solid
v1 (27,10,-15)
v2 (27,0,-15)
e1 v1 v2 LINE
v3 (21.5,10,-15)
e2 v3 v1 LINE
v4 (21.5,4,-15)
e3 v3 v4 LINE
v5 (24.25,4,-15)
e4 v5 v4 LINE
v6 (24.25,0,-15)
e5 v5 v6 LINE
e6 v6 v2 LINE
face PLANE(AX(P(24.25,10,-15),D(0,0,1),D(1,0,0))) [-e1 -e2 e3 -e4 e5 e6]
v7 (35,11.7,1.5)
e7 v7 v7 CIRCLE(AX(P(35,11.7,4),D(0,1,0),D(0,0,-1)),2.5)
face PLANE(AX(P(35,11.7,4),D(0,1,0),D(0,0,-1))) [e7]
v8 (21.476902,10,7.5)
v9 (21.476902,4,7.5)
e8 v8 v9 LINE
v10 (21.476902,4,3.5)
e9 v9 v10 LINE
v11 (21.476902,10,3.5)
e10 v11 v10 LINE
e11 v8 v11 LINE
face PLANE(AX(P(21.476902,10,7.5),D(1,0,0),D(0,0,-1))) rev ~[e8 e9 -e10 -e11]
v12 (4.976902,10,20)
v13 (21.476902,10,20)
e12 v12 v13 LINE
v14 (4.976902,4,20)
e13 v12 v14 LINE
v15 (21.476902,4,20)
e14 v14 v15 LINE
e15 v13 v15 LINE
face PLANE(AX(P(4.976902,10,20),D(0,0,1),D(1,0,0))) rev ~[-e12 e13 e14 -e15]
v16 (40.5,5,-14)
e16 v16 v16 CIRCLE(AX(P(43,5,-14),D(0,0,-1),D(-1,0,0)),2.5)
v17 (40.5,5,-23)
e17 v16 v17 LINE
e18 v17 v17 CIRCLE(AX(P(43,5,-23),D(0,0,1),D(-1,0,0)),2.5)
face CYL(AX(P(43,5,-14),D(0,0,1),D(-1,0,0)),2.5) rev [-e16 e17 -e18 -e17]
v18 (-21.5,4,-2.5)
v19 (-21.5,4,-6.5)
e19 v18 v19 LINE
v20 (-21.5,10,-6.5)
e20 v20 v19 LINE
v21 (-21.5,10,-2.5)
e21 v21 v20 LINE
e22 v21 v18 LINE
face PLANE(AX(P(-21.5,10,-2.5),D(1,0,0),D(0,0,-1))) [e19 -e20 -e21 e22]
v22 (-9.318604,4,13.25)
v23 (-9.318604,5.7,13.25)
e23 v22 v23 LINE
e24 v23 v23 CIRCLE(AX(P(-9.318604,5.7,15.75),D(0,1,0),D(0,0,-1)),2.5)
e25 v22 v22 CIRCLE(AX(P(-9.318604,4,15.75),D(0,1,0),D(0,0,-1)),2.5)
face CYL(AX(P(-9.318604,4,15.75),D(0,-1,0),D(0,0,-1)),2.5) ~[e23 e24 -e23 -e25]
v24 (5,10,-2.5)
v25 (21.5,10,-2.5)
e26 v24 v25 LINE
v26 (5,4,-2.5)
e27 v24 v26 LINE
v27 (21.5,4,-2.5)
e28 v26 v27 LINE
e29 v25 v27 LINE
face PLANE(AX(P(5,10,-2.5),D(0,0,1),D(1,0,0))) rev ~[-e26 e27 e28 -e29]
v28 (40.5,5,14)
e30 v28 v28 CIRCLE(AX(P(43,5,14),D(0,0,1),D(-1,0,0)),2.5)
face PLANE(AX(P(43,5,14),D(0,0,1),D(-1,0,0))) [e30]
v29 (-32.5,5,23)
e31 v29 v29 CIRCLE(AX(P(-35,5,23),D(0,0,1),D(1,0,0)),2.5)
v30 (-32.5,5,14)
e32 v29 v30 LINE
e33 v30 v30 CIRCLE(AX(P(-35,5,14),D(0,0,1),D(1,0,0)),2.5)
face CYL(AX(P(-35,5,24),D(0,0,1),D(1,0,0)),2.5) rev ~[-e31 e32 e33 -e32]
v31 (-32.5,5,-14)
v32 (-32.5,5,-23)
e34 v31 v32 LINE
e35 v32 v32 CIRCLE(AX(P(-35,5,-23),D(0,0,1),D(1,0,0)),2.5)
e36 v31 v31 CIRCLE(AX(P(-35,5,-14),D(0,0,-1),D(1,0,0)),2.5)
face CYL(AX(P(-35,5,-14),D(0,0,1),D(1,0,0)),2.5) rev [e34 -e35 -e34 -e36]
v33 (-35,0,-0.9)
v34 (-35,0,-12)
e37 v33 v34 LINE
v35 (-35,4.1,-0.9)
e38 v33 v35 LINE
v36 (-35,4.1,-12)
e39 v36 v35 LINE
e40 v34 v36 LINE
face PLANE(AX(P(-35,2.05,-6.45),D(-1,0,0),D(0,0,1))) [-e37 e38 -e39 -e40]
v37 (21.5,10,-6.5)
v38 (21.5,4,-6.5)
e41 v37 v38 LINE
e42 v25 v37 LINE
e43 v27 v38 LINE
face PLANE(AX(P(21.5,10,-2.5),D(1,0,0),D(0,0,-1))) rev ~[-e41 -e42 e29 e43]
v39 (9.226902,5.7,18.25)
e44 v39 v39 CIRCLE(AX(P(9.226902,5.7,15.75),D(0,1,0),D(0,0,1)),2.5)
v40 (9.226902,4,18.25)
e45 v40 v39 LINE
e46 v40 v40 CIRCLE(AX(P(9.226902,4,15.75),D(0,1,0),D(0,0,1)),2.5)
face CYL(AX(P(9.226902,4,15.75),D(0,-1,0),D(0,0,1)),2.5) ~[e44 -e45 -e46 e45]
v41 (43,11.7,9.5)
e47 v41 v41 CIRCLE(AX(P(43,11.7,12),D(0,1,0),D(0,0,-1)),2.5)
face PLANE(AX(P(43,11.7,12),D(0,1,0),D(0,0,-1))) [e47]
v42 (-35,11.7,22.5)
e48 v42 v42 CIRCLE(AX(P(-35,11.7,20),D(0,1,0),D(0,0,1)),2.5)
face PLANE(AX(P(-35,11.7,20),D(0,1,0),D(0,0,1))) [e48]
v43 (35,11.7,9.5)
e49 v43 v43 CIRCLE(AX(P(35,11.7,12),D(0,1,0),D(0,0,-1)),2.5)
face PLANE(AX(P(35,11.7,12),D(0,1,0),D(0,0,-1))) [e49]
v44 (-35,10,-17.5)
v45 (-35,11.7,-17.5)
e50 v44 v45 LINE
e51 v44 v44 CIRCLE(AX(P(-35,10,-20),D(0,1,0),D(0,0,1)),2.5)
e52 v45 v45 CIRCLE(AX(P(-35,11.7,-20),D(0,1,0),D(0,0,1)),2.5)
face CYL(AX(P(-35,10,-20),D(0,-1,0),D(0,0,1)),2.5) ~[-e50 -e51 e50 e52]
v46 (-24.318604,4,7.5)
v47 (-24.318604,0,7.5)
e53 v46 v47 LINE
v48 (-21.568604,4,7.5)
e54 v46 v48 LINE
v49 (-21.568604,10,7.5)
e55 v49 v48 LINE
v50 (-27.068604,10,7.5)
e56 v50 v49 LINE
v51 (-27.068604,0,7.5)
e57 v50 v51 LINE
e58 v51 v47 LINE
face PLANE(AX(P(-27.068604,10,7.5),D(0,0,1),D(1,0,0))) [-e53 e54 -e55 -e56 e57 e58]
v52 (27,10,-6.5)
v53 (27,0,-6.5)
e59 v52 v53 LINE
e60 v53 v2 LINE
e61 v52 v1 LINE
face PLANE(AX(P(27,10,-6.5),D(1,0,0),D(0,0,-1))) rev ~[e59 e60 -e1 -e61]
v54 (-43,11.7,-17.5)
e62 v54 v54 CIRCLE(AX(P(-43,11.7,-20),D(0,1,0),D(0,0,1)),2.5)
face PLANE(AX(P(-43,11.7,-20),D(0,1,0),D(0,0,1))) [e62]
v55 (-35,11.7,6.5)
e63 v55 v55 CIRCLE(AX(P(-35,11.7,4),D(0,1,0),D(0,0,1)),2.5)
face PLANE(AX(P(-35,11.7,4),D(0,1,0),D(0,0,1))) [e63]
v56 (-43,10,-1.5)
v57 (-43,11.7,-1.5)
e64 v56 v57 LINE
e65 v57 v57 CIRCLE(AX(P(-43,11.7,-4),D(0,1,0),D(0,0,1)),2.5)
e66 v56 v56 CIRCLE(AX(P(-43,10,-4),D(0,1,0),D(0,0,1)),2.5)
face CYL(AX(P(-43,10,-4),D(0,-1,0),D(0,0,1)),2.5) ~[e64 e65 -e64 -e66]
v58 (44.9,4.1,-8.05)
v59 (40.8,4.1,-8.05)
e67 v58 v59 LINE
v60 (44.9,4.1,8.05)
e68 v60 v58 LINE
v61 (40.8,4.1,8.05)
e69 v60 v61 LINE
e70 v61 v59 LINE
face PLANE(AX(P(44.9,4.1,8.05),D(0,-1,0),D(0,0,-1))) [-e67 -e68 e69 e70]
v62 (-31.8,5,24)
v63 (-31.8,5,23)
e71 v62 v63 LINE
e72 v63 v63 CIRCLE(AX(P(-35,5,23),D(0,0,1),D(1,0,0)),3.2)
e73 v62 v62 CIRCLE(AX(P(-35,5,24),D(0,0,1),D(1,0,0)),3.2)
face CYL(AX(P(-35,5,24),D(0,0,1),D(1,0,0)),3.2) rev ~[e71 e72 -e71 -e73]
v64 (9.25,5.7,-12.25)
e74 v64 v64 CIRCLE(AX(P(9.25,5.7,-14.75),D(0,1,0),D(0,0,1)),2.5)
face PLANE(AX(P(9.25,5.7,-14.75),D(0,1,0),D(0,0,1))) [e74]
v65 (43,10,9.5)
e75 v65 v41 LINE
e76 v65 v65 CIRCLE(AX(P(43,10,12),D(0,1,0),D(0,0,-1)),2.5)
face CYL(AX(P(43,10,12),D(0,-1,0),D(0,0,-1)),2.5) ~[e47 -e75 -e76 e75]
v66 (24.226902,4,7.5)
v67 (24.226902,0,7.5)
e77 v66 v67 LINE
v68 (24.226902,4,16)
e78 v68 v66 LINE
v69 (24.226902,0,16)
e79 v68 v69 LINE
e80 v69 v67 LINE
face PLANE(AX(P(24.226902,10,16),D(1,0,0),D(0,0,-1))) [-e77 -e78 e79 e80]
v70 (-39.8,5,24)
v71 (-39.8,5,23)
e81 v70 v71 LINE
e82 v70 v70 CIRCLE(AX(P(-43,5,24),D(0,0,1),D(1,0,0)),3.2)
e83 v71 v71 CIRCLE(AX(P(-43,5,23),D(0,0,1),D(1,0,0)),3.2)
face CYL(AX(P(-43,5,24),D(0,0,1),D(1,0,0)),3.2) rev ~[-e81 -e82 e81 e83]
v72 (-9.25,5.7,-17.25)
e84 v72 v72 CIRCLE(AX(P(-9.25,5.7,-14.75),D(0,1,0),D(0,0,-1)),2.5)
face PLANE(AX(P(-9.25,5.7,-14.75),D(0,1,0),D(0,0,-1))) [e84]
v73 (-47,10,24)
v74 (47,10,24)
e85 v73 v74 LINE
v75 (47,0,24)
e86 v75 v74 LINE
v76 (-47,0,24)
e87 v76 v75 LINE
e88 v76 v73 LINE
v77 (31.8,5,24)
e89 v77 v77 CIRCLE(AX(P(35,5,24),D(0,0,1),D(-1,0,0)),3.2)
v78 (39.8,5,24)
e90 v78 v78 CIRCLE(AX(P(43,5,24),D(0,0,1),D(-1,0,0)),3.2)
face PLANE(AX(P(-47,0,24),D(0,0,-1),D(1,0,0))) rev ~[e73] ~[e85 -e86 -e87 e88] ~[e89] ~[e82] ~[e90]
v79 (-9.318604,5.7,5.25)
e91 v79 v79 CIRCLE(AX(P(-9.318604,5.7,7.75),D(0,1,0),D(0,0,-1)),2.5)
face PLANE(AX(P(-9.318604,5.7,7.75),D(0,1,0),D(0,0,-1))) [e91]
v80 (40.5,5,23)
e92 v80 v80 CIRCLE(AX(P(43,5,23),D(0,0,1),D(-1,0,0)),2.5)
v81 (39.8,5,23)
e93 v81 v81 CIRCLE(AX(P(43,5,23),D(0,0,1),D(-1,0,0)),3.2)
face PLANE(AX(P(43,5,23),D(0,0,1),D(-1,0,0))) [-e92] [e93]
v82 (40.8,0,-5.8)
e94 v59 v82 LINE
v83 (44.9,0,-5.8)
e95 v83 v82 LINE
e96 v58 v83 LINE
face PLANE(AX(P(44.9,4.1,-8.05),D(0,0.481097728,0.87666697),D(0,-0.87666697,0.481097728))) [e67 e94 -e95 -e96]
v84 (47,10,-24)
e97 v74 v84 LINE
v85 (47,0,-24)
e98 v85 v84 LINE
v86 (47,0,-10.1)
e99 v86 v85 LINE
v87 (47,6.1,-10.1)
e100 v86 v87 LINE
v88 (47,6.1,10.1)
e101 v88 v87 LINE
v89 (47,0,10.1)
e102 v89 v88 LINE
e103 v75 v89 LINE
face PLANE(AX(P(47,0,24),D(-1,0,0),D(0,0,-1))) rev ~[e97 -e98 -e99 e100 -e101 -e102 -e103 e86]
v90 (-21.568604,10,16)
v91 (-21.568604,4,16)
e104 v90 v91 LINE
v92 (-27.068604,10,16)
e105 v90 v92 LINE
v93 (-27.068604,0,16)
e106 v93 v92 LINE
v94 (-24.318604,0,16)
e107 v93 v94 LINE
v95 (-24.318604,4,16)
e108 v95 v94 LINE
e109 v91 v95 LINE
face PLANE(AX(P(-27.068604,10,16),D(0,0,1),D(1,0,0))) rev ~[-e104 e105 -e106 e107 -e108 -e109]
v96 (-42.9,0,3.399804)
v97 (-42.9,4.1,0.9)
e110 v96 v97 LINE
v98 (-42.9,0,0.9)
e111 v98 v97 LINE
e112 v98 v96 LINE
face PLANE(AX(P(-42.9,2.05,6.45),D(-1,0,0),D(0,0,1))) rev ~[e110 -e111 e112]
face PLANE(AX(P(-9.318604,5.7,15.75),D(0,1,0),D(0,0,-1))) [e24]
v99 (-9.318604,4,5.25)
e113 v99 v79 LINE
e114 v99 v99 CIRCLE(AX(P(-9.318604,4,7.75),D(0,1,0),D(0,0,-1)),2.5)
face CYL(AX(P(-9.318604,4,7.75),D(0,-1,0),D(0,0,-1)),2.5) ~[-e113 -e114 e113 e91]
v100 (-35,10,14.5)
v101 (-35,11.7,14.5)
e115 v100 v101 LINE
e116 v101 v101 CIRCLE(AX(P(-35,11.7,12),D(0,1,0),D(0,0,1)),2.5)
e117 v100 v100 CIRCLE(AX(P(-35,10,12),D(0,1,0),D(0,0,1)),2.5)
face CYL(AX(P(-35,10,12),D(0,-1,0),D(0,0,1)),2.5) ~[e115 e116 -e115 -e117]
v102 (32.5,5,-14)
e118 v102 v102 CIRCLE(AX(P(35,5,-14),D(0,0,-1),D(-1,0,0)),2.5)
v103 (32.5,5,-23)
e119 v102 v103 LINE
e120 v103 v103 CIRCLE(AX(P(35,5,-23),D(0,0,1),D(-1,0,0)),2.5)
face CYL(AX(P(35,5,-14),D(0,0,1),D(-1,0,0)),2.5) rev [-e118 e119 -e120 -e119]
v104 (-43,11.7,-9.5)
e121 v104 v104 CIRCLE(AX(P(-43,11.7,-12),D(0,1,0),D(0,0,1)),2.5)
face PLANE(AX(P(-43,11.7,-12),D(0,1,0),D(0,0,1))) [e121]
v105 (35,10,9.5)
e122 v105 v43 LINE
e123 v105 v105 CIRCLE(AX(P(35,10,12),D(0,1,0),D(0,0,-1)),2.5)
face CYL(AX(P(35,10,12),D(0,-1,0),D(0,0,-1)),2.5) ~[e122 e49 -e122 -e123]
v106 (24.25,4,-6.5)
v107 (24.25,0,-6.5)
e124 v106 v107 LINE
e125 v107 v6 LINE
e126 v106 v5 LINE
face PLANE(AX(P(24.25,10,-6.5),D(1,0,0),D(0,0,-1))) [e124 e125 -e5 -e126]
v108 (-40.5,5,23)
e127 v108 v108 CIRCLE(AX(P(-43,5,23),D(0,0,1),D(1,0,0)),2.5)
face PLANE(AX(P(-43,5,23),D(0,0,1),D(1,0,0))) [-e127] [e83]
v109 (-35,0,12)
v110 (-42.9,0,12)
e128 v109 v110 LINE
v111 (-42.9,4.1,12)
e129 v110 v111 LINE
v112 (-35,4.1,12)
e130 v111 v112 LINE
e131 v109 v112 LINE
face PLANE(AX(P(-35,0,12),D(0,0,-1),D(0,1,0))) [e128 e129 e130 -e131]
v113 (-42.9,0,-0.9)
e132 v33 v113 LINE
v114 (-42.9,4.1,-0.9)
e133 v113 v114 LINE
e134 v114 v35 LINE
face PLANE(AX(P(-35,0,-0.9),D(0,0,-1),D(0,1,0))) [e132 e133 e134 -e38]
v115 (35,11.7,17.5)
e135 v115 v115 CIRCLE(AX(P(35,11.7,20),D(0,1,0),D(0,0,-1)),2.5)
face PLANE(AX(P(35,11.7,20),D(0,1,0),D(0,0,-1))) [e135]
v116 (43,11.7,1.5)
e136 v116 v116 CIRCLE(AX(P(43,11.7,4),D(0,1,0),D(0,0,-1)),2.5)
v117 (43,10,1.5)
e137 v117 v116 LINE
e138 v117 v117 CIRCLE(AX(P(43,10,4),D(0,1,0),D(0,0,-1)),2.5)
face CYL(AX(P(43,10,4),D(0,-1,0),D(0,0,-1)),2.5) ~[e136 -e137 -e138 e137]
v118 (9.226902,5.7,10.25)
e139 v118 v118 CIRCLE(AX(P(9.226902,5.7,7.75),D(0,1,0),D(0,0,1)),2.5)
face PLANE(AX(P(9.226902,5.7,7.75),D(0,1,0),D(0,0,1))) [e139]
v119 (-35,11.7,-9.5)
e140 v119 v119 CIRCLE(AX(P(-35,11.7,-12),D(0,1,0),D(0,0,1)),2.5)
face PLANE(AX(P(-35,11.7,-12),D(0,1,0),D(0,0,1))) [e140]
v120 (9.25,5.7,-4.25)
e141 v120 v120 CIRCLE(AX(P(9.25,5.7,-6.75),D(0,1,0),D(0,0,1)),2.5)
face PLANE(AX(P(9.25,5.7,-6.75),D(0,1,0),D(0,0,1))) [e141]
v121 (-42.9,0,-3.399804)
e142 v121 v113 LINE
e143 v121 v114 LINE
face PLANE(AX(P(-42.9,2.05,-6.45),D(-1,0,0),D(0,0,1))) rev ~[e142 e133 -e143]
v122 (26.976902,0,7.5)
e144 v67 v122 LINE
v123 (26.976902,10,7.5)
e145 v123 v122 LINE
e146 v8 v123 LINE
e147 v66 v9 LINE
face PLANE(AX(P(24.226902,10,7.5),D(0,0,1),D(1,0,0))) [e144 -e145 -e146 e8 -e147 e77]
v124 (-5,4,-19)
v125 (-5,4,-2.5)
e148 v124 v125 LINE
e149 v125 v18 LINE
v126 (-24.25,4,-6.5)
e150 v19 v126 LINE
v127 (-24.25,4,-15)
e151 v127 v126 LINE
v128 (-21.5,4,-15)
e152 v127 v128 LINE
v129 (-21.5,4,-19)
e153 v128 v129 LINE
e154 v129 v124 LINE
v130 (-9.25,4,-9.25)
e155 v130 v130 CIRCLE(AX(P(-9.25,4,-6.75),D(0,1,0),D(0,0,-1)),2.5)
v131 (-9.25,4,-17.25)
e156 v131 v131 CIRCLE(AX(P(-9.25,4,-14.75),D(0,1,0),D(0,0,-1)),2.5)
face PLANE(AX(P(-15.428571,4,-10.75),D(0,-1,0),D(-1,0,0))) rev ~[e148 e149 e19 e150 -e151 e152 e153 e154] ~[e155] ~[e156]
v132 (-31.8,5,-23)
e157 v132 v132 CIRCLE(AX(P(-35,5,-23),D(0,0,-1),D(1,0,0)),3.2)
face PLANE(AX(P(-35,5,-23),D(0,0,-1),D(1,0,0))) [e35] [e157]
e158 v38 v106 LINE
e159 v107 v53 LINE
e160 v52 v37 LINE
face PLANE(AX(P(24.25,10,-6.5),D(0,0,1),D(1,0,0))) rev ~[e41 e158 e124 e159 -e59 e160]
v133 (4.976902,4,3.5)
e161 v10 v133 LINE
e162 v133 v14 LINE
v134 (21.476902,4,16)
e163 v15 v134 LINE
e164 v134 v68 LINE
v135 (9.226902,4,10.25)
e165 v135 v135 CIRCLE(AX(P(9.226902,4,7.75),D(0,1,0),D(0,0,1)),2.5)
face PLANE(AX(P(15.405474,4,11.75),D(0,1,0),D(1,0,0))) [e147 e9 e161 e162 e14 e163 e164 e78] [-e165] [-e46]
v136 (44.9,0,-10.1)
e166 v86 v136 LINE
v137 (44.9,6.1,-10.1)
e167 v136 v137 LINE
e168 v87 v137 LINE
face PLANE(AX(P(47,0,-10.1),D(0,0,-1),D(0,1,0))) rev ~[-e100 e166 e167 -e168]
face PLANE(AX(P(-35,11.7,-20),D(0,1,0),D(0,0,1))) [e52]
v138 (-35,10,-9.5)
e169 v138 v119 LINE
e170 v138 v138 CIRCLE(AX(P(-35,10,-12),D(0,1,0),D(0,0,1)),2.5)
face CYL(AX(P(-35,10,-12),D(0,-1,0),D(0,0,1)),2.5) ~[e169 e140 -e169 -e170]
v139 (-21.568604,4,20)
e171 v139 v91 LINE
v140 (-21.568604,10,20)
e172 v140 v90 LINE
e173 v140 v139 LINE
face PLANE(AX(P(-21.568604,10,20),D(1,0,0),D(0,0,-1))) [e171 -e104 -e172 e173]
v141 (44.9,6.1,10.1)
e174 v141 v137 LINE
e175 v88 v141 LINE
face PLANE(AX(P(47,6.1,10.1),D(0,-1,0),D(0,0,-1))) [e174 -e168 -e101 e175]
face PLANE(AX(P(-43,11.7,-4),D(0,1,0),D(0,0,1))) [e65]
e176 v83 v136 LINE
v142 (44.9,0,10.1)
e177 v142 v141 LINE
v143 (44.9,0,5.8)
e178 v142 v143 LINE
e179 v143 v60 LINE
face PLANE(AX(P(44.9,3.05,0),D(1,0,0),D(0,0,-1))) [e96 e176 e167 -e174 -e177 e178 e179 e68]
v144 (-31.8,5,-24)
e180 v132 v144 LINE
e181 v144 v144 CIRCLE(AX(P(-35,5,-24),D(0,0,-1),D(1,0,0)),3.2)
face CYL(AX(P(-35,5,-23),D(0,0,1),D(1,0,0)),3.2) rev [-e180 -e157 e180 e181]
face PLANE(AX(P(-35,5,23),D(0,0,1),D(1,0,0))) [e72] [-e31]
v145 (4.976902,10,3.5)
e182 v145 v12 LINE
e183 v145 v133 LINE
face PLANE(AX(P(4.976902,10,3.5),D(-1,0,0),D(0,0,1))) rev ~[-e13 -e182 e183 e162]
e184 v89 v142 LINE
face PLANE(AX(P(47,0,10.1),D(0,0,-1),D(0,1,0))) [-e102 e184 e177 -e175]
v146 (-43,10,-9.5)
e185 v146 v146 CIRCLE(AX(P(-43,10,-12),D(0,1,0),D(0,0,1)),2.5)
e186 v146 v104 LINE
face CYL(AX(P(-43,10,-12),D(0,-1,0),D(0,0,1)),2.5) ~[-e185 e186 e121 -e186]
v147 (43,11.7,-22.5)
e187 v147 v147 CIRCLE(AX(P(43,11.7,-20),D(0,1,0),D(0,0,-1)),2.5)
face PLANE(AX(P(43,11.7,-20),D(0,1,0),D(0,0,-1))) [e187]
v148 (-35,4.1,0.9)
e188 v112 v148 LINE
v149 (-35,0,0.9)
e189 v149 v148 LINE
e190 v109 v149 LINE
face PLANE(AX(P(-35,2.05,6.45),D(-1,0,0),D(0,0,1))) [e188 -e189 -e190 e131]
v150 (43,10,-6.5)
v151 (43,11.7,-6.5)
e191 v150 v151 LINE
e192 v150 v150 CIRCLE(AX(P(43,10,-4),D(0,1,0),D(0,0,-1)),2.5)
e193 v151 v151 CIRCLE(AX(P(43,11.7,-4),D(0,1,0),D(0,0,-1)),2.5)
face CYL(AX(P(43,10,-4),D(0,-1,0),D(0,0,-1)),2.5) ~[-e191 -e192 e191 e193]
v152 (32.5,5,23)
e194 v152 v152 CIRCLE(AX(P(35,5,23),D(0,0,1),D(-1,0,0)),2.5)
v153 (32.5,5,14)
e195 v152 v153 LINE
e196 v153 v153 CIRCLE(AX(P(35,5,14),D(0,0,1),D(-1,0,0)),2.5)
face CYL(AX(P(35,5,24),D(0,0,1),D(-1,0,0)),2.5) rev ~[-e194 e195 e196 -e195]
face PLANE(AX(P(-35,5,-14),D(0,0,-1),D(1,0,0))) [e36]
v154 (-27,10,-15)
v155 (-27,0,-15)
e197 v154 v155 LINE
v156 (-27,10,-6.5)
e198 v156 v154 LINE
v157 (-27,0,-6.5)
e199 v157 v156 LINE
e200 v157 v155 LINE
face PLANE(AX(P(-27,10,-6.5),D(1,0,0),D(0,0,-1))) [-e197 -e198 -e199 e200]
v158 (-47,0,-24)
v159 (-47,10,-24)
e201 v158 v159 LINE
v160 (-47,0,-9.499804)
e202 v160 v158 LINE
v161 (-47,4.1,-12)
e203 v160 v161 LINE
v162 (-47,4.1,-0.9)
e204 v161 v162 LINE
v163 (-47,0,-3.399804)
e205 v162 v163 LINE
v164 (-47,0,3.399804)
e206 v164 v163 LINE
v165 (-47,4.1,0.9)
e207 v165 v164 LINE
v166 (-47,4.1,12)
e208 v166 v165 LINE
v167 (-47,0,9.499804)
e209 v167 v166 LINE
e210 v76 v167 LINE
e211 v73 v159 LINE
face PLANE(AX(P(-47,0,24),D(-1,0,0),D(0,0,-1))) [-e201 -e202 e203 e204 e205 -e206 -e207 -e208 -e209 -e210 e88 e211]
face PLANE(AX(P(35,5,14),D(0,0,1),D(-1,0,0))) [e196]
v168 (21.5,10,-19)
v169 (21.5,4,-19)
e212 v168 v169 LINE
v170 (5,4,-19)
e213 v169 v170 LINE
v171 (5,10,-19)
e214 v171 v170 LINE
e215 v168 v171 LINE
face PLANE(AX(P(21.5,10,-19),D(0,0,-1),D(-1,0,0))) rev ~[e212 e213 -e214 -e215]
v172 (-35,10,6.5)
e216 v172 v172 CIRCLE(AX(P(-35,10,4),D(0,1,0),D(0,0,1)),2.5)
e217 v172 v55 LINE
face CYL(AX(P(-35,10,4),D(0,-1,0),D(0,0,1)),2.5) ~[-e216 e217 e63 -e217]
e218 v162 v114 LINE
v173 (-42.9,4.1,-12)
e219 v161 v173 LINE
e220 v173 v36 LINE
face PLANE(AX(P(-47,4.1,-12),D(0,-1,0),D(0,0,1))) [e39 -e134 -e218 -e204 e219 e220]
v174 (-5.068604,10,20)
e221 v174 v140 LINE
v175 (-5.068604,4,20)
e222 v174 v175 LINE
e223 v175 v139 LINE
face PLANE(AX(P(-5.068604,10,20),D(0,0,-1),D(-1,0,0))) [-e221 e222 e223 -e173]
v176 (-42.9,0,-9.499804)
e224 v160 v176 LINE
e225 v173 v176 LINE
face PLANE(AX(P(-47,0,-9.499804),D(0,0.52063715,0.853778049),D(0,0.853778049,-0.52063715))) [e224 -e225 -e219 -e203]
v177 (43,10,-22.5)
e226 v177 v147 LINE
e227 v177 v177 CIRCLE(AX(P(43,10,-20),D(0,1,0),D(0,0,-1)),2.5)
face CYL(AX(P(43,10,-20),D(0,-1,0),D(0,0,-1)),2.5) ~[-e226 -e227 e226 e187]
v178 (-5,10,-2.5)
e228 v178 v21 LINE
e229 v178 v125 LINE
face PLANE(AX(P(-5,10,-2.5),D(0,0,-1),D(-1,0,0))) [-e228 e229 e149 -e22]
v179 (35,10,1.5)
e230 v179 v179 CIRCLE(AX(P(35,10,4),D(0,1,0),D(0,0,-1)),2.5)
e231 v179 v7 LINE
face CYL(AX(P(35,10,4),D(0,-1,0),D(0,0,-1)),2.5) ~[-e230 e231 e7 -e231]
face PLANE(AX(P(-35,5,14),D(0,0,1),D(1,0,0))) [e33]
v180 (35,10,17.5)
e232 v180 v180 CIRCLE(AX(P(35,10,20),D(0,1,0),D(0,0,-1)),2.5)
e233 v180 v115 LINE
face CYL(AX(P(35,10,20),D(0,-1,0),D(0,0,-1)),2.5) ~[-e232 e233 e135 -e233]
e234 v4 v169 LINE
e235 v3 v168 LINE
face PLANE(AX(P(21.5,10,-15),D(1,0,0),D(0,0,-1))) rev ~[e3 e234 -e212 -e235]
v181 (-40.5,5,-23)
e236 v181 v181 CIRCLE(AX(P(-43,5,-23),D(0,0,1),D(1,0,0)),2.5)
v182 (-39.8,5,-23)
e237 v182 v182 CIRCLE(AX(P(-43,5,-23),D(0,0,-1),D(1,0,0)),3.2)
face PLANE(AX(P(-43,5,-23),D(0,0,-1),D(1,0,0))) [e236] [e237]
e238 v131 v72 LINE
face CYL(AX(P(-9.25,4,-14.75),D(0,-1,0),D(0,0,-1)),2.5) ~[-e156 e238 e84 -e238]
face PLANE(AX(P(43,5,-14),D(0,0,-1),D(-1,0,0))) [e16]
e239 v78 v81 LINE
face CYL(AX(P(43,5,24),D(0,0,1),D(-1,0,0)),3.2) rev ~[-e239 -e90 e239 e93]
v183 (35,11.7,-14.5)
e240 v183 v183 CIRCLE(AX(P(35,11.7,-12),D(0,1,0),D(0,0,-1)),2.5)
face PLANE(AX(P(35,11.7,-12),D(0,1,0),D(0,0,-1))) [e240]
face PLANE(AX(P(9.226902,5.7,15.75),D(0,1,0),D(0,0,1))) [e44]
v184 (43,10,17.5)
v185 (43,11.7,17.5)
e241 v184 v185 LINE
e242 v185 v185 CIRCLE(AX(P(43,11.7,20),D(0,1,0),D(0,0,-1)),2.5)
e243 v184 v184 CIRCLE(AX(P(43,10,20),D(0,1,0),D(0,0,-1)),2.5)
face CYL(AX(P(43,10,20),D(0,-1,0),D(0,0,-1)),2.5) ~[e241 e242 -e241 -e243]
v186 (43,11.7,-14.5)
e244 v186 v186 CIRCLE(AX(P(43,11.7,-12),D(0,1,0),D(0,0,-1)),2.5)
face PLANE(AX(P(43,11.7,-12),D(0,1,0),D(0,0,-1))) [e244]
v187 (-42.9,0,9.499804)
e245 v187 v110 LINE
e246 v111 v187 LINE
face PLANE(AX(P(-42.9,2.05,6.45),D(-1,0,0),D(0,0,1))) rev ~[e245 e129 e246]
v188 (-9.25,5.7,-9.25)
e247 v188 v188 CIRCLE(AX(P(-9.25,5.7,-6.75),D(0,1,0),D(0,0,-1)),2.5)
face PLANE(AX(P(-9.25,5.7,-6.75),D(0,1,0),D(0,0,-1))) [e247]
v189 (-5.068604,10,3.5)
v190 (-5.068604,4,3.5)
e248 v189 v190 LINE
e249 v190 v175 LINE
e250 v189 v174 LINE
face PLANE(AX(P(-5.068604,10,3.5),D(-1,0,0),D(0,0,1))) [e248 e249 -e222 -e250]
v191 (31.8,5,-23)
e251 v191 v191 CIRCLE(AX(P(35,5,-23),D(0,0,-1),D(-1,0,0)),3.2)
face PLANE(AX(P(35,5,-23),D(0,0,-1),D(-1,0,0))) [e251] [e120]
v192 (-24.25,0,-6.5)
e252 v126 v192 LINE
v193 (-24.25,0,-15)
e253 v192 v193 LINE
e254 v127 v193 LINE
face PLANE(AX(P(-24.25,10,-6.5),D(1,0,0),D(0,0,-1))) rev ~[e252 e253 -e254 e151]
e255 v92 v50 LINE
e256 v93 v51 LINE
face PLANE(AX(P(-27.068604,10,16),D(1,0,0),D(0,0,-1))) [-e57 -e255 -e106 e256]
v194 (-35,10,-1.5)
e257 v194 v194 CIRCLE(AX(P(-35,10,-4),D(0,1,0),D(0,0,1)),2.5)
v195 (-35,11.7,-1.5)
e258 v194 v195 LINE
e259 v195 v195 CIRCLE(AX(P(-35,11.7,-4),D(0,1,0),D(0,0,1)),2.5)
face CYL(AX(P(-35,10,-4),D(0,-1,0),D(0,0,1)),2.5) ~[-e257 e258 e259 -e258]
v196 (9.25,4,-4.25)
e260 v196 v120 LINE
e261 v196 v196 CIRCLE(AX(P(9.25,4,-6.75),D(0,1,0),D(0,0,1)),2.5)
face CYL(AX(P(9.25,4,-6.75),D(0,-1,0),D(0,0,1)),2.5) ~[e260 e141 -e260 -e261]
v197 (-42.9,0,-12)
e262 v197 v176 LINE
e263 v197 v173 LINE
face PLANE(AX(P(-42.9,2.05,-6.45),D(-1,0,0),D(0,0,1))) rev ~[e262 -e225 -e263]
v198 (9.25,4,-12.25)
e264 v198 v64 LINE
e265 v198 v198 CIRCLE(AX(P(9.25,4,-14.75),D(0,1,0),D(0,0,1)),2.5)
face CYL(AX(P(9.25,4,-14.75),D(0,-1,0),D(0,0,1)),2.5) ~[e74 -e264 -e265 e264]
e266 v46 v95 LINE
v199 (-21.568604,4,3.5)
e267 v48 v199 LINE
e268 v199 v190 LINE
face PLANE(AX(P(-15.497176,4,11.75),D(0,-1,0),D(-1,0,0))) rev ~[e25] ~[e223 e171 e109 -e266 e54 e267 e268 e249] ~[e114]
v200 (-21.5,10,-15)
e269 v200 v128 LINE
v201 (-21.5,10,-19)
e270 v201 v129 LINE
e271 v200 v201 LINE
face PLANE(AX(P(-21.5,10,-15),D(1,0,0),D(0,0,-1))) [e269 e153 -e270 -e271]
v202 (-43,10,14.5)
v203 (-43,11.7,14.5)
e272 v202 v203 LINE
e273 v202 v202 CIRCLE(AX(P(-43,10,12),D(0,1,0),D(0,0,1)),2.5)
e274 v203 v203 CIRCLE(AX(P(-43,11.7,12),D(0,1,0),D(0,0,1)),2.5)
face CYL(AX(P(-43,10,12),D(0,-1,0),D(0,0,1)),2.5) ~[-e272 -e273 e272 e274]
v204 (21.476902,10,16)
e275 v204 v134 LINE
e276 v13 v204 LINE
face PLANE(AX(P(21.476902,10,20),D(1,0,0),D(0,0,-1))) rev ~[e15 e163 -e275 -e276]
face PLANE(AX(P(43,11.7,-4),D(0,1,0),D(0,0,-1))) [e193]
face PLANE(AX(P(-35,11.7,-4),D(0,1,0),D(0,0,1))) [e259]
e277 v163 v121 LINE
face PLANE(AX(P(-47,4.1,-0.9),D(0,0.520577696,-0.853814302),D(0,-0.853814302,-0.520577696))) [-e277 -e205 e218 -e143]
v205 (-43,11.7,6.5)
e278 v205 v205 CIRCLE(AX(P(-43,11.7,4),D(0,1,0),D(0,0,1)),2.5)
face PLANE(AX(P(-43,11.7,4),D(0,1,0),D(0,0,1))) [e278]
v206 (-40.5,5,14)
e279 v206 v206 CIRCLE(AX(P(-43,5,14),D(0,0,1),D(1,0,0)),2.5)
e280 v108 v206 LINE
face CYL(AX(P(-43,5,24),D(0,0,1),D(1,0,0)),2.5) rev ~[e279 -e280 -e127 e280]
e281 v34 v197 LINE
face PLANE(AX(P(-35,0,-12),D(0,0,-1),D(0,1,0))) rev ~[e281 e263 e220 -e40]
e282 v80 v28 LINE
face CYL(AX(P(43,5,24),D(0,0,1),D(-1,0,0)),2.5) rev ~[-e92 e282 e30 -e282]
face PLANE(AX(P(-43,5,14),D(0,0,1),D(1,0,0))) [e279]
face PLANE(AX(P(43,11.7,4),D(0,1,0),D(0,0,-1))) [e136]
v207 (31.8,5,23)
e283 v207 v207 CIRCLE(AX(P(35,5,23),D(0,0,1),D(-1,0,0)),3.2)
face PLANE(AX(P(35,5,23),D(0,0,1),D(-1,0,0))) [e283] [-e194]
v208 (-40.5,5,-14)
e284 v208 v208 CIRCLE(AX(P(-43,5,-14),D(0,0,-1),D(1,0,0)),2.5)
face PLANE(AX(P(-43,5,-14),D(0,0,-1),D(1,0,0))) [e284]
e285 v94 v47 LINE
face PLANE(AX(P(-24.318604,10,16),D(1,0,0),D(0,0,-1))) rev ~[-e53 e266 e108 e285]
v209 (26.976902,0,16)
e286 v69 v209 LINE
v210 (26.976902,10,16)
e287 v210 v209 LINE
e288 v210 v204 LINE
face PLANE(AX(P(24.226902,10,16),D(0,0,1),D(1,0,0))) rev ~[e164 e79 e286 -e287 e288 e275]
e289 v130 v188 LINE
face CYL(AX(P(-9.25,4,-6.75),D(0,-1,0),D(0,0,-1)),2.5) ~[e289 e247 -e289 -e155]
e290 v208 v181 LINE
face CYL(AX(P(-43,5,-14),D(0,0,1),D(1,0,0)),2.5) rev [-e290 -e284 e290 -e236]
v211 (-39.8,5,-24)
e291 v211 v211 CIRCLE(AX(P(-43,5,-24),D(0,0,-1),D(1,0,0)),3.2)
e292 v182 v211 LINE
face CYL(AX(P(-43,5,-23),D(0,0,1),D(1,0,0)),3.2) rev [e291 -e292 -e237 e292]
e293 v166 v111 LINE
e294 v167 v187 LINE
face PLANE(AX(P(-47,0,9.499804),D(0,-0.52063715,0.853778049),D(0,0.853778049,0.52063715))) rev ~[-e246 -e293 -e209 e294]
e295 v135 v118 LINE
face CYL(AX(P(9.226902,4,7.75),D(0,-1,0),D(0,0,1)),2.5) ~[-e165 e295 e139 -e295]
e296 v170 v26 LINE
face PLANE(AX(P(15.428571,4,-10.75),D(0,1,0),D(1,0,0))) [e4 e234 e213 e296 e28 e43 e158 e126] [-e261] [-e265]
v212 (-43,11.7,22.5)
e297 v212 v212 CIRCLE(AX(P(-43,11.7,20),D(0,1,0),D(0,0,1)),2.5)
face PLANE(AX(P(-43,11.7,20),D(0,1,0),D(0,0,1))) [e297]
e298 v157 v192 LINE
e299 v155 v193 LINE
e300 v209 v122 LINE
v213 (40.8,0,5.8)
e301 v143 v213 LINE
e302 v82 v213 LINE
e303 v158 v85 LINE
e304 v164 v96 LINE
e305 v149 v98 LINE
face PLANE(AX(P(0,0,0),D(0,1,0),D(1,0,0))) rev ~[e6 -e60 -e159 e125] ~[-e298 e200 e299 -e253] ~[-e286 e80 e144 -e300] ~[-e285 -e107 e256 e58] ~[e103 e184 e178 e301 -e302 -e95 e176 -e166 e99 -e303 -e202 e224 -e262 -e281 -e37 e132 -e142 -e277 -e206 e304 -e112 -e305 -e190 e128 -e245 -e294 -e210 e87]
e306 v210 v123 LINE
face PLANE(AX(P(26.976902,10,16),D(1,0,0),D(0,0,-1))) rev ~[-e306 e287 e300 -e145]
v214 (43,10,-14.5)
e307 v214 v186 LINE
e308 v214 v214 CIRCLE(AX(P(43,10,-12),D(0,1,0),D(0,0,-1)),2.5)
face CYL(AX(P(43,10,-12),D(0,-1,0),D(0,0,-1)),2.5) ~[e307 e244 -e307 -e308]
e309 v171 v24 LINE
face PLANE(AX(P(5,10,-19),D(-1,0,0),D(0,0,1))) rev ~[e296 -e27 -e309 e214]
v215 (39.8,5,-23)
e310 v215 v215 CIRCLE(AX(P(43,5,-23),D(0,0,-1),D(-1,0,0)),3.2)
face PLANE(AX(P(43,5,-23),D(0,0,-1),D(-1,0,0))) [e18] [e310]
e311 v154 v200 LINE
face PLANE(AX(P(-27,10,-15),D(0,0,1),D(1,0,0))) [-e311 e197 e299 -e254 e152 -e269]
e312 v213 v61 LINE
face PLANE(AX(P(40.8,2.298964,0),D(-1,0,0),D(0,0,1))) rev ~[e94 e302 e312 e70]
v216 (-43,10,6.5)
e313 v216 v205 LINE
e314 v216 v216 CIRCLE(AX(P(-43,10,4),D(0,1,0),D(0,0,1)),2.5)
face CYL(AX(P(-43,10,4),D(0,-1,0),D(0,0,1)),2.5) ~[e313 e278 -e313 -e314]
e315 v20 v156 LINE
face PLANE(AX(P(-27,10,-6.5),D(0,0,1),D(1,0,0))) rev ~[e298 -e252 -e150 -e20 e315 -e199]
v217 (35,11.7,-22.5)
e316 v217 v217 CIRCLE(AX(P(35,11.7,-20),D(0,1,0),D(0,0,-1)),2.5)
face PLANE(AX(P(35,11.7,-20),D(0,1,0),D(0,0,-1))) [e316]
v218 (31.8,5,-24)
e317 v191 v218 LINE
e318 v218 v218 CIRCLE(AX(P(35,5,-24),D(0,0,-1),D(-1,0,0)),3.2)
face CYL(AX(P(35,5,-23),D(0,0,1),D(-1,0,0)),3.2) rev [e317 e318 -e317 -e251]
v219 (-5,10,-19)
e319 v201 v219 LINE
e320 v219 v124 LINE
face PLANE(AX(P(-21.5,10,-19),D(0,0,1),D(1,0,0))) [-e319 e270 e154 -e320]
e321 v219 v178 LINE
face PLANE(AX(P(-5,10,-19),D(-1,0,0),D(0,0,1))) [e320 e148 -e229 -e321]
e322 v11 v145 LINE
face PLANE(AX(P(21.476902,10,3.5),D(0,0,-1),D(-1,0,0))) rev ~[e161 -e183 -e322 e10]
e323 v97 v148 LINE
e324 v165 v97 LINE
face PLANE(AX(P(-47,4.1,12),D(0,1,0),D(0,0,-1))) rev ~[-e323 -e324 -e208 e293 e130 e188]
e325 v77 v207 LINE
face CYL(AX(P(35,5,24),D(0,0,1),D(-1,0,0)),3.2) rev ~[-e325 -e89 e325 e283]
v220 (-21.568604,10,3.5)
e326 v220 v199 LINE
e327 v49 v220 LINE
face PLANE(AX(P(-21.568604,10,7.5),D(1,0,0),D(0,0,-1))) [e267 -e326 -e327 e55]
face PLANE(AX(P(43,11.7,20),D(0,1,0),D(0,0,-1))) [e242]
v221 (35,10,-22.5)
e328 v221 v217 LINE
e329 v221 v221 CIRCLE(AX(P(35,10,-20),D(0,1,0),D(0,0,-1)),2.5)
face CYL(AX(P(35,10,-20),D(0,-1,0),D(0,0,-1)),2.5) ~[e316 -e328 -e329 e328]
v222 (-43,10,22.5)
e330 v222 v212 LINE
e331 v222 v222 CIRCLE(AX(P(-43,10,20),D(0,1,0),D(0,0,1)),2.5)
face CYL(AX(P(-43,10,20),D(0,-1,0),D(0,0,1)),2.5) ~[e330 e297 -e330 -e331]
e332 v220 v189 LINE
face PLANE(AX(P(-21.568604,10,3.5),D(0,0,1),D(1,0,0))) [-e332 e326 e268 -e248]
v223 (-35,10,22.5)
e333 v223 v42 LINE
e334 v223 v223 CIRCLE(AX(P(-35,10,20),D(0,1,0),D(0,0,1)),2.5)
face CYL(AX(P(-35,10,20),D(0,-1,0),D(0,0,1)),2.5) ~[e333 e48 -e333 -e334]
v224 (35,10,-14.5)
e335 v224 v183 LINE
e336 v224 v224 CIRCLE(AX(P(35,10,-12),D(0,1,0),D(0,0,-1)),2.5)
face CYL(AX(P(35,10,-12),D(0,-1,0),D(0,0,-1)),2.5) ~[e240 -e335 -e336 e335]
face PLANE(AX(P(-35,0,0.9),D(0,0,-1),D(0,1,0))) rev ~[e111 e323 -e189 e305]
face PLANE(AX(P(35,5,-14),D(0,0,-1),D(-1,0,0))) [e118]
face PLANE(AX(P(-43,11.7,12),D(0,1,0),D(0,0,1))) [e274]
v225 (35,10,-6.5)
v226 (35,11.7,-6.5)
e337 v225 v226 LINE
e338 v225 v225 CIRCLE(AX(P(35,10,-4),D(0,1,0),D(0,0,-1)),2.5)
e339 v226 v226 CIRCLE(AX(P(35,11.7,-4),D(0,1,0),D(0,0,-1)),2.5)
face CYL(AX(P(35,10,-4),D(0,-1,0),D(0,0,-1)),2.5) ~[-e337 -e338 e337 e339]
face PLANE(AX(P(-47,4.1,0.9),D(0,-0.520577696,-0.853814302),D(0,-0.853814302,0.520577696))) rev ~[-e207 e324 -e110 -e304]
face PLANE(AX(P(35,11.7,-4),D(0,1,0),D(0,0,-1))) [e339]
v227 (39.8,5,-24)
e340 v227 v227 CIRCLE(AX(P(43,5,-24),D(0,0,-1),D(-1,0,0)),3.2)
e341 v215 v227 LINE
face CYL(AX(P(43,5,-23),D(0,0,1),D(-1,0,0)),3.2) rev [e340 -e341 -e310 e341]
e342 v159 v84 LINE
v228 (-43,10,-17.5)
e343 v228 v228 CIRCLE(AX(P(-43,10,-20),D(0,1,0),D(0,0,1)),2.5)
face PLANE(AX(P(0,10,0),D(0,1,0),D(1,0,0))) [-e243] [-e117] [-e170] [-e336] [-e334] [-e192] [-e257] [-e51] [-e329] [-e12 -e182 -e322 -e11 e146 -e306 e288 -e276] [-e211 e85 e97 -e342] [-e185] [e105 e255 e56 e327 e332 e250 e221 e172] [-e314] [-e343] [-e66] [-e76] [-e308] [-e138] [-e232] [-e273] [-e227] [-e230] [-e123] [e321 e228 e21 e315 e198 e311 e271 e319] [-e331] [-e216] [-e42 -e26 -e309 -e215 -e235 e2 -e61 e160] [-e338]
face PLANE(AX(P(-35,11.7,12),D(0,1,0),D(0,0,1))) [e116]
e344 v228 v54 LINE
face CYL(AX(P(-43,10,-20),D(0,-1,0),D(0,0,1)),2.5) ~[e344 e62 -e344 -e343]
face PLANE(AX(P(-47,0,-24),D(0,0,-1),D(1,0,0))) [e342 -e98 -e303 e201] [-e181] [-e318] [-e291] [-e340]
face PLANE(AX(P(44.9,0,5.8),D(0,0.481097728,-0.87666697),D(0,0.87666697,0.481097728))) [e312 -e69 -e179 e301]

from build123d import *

# Parameters (mm, degrees)
SKETCH1_W           = 94
SKETCH1_H           = 48
BOSS_EXTRUDE1_DEPTH = 10
CUT_EXTRUDE1_DEPTH  = 6
SKETCH3_W           = 2.75
SKETCH3_H           = 8.5
CUT_EXTRUDE2_DEPTH  = 10
SKETCH4_R           = 2.5
BOSS_EXTRUDE2_DEPTH = 1.7
SKETCH5_R           = 2.5
BOSS_EXTRUDE3_DEPTH = 1.7
SKETCH6_R           = 2.5
CUT_EXTRUDE3_DEPTH  = 10
SKETCH11_R          = 3.2
CUT_EXTRUDE4_DEPTH  = 1
CUT_EXTRUDE5_START  = -10
SKETCH12_R          = 2.5
CUT_EXTRUDE5_DEPTH  = 10
CUT_EXTRUDE6_START  = -1
SKETCH13_R          = 3.2
CUT_EXTRUDE6_DEPTH  = 1
SKETCH15_W          = 20.2
SKETCH15_H          = 6.1
CUT_EXTRUDE7_DEPTH  = 2.1
CUT_EXTRUDE9_DEPTH  = 12
SKETCH19_W          = 11.1
SKETCH19_H          = 4.1
CUT_EXTRUDE10_DEPTH = 7.9
CUT_EXTRUDE11_DEPTH = 4.1


with BuildPart() as part:
    # Sketch1 → Boss-Extrude1 (new body)
    with BuildSketch(Plane(origin=(0, 0, 0), x_dir=(1, 0, 0), z_dir=(0, 1, 0))):
        Rectangle(SKETCH1_W, SKETCH1_H)
    extrude(amount=BOSS_EXTRUDE1_DEPTH)

    # Sketch2 → Cut-Extrude1 (cut)
    with BuildSketch(Plane(origin=(0, 10, 0), x_dir=(1, 0, 0), z_dir=(0, 1, 0))):
        Polygon((-21.568604419, -3.5), (-5.068604419, -3.5), (-5.068604419, -20), (-21.568604419, -20), (-21.568604419, -16), (-27.068604419, -16), (-27.068604419, -7.5), (-21.568604419, -7.5), align=None)
        Polygon((-21.5, 19), (-5, 19), (-5, 2.5), (-21.5, 2.5), (-21.5, 6.5), (-27, 6.5), (-27, 15), (-21.5, 15), align=None)
        Polygon((5, 19), (5, 2.5), (21.5, 2.5), (21.5, 6.5), (27, 6.5), (27, 15), (21.5, 15), (21.5, 19), align=None)
        Polygon((4.976902144, -3.5), (4.976902144, -20), (21.476902144, -20), (21.476902144, -16), (26.976902144, -16), (26.976902144, -7.5), (21.476902144, -7.5), (21.476902144, -3.5), align=None)
    extrude(amount=-CUT_EXTRUDE1_DEPTH, mode=Mode.SUBTRACT)

    # Sketch3 → Cut-Extrude2 (cut)
    with BuildSketch(Plane(origin=(0, 10, 0), x_dir=(1, 0, 0), z_dir=(0, 1, 0))):
        with Locations((25.625, 10.75)):
            Rectangle(SKETCH3_W, SKETCH3_H)
        with Locations((25.601902144, -11.75)):
            Rectangle(SKETCH3_W, SKETCH3_H)
        with Locations((-25.625, 10.75)):
            Rectangle(SKETCH3_W, SKETCH3_H)
        with Locations((-25.693604419, -11.75)):
            Rectangle(SKETCH3_W, SKETCH3_H)
    extrude(amount=-CUT_EXTRUDE2_DEPTH, mode=Mode.SUBTRACT)

    # Sketch4 → Boss-Extrude2 (add)
    with BuildSketch(Plane(origin=(0, 4, 0), x_dir=(1, 0, 0), z_dir=(0, 1, 0))):
        with Locations(Location((9.226902144, -7.75, 0), (0, 0, 270))):
            Circle(SKETCH4_R)
        with Locations(Location((9.226902144, -15.75, 0), (0, 0, 270))):
            Circle(SKETCH4_R)
        with Locations(Location((-9.318604419, -7.75, 0), (0, 0, 90))):
            Circle(SKETCH4_R)
        with Locations(Location((-9.318604419, -15.75, 0), (0, 0, 90))):
            Circle(SKETCH4_R)
        with Locations(Location((-9.25, 14.75, 0), (0, 0, 90))):
            Circle(SKETCH4_R)
        with Locations(Location((-9.25, 6.75, 0), (0, 0, 90))):
            Circle(SKETCH4_R)
        with Locations(Location((9.25, 14.75, 0), (0, 0, 270))):
            Circle(SKETCH4_R)
        with Locations(Location((9.25, 6.75, 0), (0, 0, 270))):
            Circle(SKETCH4_R)
    extrude(amount=BOSS_EXTRUDE2_DEPTH)

    # Sketch5 → Boss-Extrude3 (add)
    with BuildSketch(Plane(origin=(0, 10, 0), x_dir=(1, 0, 0), z_dir=(0, 1, 0))):
        with Locations(Location((-43, 20, 0), (0, 0, 270))):
            Circle(SKETCH5_R)
        with Locations(Location((-43, 12, 0), (0, 0, 270))):
            Circle(SKETCH5_R)
        with Locations(Location((-35, 20, 0), (0, 0, 270))):
            Circle(SKETCH5_R)
        with Locations(Location((-35, 12, 0), (0, 0, 270))):
            Circle(SKETCH5_R)
        with Locations(Location((-35, 4, 0), (0, 0, 270))):
            Circle(SKETCH5_R)
        with Locations(Location((-35, -4, 0), (0, 0, 270))):
            Circle(SKETCH5_R)
        with Locations(Location((-35, -12, 0), (0, 0, 270))):
            Circle(SKETCH5_R)
        with Locations(Location((-35, -20, 0), (0, 0, 270))):
            Circle(SKETCH5_R)
        with Locations(Location((-43, 4, 0), (0, 0, 270))):
            Circle(SKETCH5_R)
        with Locations(Location((-43, -4, 0), (0, 0, 270))):
            Circle(SKETCH5_R)
        with Locations(Location((-43, -12, 0), (0, 0, 270))):
            Circle(SKETCH5_R)
        with Locations(Location((-43, -20, 0), (0, 0, 270))):
            Circle(SKETCH5_R)
        with Locations(Location((43, -20, 0), (0, 0, 90))):
            Circle(SKETCH5_R)
        with Locations(Location((43, -12, 0), (0, 0, 90))):
            Circle(SKETCH5_R)
        with Locations(Location((43, -4, 0), (0, 0, 90))):
            Circle(SKETCH5_R)
        with Locations(Location((43, 4, 0), (0, 0, 90))):
            Circle(SKETCH5_R)
        with Locations(Location((35, -20, 0), (0, 0, 90))):
            Circle(SKETCH5_R)
        with Locations(Location((35, -12, 0), (0, 0, 90))):
            Circle(SKETCH5_R)
        with Locations(Location((35, -4, 0), (0, 0, 90))):
            Circle(SKETCH5_R)
        with Locations(Location((35, 4, 0), (0, 0, 90))):
            Circle(SKETCH5_R)
        with Locations(Location((35, 12, 0), (0, 0, 90))):
            Circle(SKETCH5_R)
        with Locations(Location((35, 20, 0), (0, 0, 90))):
            Circle(SKETCH5_R)
        with Locations(Location((43, 12, 0), (0, 0, 90))):
            Circle(SKETCH5_R)
        with Locations(Location((43, 20, 0), (0, 0, 90))):
            Circle(SKETCH5_R)
    extrude(amount=BOSS_EXTRUDE3_DEPTH)

    # Sketch6 → Cut-Extrude3 (cut)
    with BuildSketch(Plane.XY.offset(24)):
        with Locations((-43, 5)):
            Circle(SKETCH6_R)
        with Locations((-35, 5)):
            Circle(SKETCH6_R)
        with Locations(Location((35, 5, 0), (0, 0, 180))):
            Circle(SKETCH6_R)
        with Locations(Location((43, 5, 0), (0, 0, 180))):
            Circle(SKETCH6_R)
    extrude(amount=-CUT_EXTRUDE3_DEPTH, mode=Mode.SUBTRACT)

    # Sketch11 → Cut-Extrude4 (cut)
    with BuildSketch(Plane.XY.offset(24)):
        with Locations((-43, 5)):
            Circle(SKETCH11_R)
        with Locations((-35, 5)):
            Circle(SKETCH11_R)
        with Locations(Location((35, 5, 0), (0, 0, 180))):
            Circle(SKETCH11_R)
        with Locations(Location((43, 5, 0), (0, 0, 180))):
            Circle(SKETCH11_R)
    extrude(amount=-CUT_EXTRUDE4_DEPTH, mode=Mode.SUBTRACT)

    # Sketch12 → Cut-Extrude5 (cut)
    with BuildSketch(Plane(origin=(0, 0, -24), x_dir=(-1, 0, 0), z_dir=(0, 0, -1)).offset(CUT_EXTRUDE5_START)):
        with Locations((-43, 5)):
            Circle(SKETCH12_R)
        with Locations((-35, 5)):
            Circle(SKETCH12_R)
        with Locations(Location((35, 5, 0), (0, 0, 180))):
            Circle(SKETCH12_R)
        with Locations(Location((43, 5, 0), (0, 0, 180))):
            Circle(SKETCH12_R)
    extrude(amount=CUT_EXTRUDE5_DEPTH, mode=Mode.SUBTRACT)

    # Sketch13 → Cut-Extrude6 (cut)
    with BuildSketch(Plane(origin=(0, 0, -24), x_dir=(-1, 0, 0), z_dir=(0, 0, -1)).offset(CUT_EXTRUDE6_START)):
        with Locations((-43, 5)):
            Circle(SKETCH13_R)
        with Locations((-35, 5)):
            Circle(SKETCH13_R)
        with Locations(Location((35, 5, 0), (0, 0, 180))):
            Circle(SKETCH13_R)
        with Locations(Location((43, 5, 0), (0, 0, 180))):
            Circle(SKETCH13_R)
    extrude(amount=CUT_EXTRUDE6_DEPTH, mode=Mode.SUBTRACT)

    # Sketch15 → Cut-Extrude7 (cut)
    with BuildSketch(Plane(origin=(47, 0, 0), x_dir=(0, 0, -1), z_dir=(1, 0, 0))):
        with Locations((0, 3.05)):
            Rectangle(SKETCH15_W, SKETCH15_H)
    extrude(amount=-CUT_EXTRUDE7_DEPTH, mode=Mode.SUBTRACT)

    # Sketch17 → Cut-Extrude9 (cut)
    with BuildSketch(Plane.ZY.offset(47)):
        Polygon((-9.499804172, 0), (-12, 4.1), (-0.9, 4.1), (-3.399804172, 0), align=None)
        Polygon((0.9, 4.1), (3.399804172, 0), (9.499804172, 0), (12, 4.1), align=None)
    extrude(amount=-CUT_EXTRUDE9_DEPTH, mode=Mode.SUBTRACT)

    # Sketch19 → Cut-Extrude10 (cut)
    with BuildSketch(Plane.ZY.offset(35)):
        with Locations((-6.45, 2.05)):
            Rectangle(SKETCH19_W, SKETCH19_H)
        with Locations((6.45, 2.05)):
            Rectangle(SKETCH19_W, SKETCH19_H)
    extrude(amount=CUT_EXTRUDE10_DEPTH, mode=Mode.SUBTRACT)

    # Sketch16 → Cut-Extrude11 (cut)
    with BuildSketch(Plane(origin=(44.9, 0, 0), x_dir=(0, 0, -1), z_dir=(1, 0, 0))):
        Polygon((-5.8, 0), (-8.05, 4.1), (8.05, 4.1), (5.8, 0), align=None)
    extrude(amount=-CUT_EXTRUDE11_DEPTH, mode=Mode.SUBTRACT)


solid = part.part
